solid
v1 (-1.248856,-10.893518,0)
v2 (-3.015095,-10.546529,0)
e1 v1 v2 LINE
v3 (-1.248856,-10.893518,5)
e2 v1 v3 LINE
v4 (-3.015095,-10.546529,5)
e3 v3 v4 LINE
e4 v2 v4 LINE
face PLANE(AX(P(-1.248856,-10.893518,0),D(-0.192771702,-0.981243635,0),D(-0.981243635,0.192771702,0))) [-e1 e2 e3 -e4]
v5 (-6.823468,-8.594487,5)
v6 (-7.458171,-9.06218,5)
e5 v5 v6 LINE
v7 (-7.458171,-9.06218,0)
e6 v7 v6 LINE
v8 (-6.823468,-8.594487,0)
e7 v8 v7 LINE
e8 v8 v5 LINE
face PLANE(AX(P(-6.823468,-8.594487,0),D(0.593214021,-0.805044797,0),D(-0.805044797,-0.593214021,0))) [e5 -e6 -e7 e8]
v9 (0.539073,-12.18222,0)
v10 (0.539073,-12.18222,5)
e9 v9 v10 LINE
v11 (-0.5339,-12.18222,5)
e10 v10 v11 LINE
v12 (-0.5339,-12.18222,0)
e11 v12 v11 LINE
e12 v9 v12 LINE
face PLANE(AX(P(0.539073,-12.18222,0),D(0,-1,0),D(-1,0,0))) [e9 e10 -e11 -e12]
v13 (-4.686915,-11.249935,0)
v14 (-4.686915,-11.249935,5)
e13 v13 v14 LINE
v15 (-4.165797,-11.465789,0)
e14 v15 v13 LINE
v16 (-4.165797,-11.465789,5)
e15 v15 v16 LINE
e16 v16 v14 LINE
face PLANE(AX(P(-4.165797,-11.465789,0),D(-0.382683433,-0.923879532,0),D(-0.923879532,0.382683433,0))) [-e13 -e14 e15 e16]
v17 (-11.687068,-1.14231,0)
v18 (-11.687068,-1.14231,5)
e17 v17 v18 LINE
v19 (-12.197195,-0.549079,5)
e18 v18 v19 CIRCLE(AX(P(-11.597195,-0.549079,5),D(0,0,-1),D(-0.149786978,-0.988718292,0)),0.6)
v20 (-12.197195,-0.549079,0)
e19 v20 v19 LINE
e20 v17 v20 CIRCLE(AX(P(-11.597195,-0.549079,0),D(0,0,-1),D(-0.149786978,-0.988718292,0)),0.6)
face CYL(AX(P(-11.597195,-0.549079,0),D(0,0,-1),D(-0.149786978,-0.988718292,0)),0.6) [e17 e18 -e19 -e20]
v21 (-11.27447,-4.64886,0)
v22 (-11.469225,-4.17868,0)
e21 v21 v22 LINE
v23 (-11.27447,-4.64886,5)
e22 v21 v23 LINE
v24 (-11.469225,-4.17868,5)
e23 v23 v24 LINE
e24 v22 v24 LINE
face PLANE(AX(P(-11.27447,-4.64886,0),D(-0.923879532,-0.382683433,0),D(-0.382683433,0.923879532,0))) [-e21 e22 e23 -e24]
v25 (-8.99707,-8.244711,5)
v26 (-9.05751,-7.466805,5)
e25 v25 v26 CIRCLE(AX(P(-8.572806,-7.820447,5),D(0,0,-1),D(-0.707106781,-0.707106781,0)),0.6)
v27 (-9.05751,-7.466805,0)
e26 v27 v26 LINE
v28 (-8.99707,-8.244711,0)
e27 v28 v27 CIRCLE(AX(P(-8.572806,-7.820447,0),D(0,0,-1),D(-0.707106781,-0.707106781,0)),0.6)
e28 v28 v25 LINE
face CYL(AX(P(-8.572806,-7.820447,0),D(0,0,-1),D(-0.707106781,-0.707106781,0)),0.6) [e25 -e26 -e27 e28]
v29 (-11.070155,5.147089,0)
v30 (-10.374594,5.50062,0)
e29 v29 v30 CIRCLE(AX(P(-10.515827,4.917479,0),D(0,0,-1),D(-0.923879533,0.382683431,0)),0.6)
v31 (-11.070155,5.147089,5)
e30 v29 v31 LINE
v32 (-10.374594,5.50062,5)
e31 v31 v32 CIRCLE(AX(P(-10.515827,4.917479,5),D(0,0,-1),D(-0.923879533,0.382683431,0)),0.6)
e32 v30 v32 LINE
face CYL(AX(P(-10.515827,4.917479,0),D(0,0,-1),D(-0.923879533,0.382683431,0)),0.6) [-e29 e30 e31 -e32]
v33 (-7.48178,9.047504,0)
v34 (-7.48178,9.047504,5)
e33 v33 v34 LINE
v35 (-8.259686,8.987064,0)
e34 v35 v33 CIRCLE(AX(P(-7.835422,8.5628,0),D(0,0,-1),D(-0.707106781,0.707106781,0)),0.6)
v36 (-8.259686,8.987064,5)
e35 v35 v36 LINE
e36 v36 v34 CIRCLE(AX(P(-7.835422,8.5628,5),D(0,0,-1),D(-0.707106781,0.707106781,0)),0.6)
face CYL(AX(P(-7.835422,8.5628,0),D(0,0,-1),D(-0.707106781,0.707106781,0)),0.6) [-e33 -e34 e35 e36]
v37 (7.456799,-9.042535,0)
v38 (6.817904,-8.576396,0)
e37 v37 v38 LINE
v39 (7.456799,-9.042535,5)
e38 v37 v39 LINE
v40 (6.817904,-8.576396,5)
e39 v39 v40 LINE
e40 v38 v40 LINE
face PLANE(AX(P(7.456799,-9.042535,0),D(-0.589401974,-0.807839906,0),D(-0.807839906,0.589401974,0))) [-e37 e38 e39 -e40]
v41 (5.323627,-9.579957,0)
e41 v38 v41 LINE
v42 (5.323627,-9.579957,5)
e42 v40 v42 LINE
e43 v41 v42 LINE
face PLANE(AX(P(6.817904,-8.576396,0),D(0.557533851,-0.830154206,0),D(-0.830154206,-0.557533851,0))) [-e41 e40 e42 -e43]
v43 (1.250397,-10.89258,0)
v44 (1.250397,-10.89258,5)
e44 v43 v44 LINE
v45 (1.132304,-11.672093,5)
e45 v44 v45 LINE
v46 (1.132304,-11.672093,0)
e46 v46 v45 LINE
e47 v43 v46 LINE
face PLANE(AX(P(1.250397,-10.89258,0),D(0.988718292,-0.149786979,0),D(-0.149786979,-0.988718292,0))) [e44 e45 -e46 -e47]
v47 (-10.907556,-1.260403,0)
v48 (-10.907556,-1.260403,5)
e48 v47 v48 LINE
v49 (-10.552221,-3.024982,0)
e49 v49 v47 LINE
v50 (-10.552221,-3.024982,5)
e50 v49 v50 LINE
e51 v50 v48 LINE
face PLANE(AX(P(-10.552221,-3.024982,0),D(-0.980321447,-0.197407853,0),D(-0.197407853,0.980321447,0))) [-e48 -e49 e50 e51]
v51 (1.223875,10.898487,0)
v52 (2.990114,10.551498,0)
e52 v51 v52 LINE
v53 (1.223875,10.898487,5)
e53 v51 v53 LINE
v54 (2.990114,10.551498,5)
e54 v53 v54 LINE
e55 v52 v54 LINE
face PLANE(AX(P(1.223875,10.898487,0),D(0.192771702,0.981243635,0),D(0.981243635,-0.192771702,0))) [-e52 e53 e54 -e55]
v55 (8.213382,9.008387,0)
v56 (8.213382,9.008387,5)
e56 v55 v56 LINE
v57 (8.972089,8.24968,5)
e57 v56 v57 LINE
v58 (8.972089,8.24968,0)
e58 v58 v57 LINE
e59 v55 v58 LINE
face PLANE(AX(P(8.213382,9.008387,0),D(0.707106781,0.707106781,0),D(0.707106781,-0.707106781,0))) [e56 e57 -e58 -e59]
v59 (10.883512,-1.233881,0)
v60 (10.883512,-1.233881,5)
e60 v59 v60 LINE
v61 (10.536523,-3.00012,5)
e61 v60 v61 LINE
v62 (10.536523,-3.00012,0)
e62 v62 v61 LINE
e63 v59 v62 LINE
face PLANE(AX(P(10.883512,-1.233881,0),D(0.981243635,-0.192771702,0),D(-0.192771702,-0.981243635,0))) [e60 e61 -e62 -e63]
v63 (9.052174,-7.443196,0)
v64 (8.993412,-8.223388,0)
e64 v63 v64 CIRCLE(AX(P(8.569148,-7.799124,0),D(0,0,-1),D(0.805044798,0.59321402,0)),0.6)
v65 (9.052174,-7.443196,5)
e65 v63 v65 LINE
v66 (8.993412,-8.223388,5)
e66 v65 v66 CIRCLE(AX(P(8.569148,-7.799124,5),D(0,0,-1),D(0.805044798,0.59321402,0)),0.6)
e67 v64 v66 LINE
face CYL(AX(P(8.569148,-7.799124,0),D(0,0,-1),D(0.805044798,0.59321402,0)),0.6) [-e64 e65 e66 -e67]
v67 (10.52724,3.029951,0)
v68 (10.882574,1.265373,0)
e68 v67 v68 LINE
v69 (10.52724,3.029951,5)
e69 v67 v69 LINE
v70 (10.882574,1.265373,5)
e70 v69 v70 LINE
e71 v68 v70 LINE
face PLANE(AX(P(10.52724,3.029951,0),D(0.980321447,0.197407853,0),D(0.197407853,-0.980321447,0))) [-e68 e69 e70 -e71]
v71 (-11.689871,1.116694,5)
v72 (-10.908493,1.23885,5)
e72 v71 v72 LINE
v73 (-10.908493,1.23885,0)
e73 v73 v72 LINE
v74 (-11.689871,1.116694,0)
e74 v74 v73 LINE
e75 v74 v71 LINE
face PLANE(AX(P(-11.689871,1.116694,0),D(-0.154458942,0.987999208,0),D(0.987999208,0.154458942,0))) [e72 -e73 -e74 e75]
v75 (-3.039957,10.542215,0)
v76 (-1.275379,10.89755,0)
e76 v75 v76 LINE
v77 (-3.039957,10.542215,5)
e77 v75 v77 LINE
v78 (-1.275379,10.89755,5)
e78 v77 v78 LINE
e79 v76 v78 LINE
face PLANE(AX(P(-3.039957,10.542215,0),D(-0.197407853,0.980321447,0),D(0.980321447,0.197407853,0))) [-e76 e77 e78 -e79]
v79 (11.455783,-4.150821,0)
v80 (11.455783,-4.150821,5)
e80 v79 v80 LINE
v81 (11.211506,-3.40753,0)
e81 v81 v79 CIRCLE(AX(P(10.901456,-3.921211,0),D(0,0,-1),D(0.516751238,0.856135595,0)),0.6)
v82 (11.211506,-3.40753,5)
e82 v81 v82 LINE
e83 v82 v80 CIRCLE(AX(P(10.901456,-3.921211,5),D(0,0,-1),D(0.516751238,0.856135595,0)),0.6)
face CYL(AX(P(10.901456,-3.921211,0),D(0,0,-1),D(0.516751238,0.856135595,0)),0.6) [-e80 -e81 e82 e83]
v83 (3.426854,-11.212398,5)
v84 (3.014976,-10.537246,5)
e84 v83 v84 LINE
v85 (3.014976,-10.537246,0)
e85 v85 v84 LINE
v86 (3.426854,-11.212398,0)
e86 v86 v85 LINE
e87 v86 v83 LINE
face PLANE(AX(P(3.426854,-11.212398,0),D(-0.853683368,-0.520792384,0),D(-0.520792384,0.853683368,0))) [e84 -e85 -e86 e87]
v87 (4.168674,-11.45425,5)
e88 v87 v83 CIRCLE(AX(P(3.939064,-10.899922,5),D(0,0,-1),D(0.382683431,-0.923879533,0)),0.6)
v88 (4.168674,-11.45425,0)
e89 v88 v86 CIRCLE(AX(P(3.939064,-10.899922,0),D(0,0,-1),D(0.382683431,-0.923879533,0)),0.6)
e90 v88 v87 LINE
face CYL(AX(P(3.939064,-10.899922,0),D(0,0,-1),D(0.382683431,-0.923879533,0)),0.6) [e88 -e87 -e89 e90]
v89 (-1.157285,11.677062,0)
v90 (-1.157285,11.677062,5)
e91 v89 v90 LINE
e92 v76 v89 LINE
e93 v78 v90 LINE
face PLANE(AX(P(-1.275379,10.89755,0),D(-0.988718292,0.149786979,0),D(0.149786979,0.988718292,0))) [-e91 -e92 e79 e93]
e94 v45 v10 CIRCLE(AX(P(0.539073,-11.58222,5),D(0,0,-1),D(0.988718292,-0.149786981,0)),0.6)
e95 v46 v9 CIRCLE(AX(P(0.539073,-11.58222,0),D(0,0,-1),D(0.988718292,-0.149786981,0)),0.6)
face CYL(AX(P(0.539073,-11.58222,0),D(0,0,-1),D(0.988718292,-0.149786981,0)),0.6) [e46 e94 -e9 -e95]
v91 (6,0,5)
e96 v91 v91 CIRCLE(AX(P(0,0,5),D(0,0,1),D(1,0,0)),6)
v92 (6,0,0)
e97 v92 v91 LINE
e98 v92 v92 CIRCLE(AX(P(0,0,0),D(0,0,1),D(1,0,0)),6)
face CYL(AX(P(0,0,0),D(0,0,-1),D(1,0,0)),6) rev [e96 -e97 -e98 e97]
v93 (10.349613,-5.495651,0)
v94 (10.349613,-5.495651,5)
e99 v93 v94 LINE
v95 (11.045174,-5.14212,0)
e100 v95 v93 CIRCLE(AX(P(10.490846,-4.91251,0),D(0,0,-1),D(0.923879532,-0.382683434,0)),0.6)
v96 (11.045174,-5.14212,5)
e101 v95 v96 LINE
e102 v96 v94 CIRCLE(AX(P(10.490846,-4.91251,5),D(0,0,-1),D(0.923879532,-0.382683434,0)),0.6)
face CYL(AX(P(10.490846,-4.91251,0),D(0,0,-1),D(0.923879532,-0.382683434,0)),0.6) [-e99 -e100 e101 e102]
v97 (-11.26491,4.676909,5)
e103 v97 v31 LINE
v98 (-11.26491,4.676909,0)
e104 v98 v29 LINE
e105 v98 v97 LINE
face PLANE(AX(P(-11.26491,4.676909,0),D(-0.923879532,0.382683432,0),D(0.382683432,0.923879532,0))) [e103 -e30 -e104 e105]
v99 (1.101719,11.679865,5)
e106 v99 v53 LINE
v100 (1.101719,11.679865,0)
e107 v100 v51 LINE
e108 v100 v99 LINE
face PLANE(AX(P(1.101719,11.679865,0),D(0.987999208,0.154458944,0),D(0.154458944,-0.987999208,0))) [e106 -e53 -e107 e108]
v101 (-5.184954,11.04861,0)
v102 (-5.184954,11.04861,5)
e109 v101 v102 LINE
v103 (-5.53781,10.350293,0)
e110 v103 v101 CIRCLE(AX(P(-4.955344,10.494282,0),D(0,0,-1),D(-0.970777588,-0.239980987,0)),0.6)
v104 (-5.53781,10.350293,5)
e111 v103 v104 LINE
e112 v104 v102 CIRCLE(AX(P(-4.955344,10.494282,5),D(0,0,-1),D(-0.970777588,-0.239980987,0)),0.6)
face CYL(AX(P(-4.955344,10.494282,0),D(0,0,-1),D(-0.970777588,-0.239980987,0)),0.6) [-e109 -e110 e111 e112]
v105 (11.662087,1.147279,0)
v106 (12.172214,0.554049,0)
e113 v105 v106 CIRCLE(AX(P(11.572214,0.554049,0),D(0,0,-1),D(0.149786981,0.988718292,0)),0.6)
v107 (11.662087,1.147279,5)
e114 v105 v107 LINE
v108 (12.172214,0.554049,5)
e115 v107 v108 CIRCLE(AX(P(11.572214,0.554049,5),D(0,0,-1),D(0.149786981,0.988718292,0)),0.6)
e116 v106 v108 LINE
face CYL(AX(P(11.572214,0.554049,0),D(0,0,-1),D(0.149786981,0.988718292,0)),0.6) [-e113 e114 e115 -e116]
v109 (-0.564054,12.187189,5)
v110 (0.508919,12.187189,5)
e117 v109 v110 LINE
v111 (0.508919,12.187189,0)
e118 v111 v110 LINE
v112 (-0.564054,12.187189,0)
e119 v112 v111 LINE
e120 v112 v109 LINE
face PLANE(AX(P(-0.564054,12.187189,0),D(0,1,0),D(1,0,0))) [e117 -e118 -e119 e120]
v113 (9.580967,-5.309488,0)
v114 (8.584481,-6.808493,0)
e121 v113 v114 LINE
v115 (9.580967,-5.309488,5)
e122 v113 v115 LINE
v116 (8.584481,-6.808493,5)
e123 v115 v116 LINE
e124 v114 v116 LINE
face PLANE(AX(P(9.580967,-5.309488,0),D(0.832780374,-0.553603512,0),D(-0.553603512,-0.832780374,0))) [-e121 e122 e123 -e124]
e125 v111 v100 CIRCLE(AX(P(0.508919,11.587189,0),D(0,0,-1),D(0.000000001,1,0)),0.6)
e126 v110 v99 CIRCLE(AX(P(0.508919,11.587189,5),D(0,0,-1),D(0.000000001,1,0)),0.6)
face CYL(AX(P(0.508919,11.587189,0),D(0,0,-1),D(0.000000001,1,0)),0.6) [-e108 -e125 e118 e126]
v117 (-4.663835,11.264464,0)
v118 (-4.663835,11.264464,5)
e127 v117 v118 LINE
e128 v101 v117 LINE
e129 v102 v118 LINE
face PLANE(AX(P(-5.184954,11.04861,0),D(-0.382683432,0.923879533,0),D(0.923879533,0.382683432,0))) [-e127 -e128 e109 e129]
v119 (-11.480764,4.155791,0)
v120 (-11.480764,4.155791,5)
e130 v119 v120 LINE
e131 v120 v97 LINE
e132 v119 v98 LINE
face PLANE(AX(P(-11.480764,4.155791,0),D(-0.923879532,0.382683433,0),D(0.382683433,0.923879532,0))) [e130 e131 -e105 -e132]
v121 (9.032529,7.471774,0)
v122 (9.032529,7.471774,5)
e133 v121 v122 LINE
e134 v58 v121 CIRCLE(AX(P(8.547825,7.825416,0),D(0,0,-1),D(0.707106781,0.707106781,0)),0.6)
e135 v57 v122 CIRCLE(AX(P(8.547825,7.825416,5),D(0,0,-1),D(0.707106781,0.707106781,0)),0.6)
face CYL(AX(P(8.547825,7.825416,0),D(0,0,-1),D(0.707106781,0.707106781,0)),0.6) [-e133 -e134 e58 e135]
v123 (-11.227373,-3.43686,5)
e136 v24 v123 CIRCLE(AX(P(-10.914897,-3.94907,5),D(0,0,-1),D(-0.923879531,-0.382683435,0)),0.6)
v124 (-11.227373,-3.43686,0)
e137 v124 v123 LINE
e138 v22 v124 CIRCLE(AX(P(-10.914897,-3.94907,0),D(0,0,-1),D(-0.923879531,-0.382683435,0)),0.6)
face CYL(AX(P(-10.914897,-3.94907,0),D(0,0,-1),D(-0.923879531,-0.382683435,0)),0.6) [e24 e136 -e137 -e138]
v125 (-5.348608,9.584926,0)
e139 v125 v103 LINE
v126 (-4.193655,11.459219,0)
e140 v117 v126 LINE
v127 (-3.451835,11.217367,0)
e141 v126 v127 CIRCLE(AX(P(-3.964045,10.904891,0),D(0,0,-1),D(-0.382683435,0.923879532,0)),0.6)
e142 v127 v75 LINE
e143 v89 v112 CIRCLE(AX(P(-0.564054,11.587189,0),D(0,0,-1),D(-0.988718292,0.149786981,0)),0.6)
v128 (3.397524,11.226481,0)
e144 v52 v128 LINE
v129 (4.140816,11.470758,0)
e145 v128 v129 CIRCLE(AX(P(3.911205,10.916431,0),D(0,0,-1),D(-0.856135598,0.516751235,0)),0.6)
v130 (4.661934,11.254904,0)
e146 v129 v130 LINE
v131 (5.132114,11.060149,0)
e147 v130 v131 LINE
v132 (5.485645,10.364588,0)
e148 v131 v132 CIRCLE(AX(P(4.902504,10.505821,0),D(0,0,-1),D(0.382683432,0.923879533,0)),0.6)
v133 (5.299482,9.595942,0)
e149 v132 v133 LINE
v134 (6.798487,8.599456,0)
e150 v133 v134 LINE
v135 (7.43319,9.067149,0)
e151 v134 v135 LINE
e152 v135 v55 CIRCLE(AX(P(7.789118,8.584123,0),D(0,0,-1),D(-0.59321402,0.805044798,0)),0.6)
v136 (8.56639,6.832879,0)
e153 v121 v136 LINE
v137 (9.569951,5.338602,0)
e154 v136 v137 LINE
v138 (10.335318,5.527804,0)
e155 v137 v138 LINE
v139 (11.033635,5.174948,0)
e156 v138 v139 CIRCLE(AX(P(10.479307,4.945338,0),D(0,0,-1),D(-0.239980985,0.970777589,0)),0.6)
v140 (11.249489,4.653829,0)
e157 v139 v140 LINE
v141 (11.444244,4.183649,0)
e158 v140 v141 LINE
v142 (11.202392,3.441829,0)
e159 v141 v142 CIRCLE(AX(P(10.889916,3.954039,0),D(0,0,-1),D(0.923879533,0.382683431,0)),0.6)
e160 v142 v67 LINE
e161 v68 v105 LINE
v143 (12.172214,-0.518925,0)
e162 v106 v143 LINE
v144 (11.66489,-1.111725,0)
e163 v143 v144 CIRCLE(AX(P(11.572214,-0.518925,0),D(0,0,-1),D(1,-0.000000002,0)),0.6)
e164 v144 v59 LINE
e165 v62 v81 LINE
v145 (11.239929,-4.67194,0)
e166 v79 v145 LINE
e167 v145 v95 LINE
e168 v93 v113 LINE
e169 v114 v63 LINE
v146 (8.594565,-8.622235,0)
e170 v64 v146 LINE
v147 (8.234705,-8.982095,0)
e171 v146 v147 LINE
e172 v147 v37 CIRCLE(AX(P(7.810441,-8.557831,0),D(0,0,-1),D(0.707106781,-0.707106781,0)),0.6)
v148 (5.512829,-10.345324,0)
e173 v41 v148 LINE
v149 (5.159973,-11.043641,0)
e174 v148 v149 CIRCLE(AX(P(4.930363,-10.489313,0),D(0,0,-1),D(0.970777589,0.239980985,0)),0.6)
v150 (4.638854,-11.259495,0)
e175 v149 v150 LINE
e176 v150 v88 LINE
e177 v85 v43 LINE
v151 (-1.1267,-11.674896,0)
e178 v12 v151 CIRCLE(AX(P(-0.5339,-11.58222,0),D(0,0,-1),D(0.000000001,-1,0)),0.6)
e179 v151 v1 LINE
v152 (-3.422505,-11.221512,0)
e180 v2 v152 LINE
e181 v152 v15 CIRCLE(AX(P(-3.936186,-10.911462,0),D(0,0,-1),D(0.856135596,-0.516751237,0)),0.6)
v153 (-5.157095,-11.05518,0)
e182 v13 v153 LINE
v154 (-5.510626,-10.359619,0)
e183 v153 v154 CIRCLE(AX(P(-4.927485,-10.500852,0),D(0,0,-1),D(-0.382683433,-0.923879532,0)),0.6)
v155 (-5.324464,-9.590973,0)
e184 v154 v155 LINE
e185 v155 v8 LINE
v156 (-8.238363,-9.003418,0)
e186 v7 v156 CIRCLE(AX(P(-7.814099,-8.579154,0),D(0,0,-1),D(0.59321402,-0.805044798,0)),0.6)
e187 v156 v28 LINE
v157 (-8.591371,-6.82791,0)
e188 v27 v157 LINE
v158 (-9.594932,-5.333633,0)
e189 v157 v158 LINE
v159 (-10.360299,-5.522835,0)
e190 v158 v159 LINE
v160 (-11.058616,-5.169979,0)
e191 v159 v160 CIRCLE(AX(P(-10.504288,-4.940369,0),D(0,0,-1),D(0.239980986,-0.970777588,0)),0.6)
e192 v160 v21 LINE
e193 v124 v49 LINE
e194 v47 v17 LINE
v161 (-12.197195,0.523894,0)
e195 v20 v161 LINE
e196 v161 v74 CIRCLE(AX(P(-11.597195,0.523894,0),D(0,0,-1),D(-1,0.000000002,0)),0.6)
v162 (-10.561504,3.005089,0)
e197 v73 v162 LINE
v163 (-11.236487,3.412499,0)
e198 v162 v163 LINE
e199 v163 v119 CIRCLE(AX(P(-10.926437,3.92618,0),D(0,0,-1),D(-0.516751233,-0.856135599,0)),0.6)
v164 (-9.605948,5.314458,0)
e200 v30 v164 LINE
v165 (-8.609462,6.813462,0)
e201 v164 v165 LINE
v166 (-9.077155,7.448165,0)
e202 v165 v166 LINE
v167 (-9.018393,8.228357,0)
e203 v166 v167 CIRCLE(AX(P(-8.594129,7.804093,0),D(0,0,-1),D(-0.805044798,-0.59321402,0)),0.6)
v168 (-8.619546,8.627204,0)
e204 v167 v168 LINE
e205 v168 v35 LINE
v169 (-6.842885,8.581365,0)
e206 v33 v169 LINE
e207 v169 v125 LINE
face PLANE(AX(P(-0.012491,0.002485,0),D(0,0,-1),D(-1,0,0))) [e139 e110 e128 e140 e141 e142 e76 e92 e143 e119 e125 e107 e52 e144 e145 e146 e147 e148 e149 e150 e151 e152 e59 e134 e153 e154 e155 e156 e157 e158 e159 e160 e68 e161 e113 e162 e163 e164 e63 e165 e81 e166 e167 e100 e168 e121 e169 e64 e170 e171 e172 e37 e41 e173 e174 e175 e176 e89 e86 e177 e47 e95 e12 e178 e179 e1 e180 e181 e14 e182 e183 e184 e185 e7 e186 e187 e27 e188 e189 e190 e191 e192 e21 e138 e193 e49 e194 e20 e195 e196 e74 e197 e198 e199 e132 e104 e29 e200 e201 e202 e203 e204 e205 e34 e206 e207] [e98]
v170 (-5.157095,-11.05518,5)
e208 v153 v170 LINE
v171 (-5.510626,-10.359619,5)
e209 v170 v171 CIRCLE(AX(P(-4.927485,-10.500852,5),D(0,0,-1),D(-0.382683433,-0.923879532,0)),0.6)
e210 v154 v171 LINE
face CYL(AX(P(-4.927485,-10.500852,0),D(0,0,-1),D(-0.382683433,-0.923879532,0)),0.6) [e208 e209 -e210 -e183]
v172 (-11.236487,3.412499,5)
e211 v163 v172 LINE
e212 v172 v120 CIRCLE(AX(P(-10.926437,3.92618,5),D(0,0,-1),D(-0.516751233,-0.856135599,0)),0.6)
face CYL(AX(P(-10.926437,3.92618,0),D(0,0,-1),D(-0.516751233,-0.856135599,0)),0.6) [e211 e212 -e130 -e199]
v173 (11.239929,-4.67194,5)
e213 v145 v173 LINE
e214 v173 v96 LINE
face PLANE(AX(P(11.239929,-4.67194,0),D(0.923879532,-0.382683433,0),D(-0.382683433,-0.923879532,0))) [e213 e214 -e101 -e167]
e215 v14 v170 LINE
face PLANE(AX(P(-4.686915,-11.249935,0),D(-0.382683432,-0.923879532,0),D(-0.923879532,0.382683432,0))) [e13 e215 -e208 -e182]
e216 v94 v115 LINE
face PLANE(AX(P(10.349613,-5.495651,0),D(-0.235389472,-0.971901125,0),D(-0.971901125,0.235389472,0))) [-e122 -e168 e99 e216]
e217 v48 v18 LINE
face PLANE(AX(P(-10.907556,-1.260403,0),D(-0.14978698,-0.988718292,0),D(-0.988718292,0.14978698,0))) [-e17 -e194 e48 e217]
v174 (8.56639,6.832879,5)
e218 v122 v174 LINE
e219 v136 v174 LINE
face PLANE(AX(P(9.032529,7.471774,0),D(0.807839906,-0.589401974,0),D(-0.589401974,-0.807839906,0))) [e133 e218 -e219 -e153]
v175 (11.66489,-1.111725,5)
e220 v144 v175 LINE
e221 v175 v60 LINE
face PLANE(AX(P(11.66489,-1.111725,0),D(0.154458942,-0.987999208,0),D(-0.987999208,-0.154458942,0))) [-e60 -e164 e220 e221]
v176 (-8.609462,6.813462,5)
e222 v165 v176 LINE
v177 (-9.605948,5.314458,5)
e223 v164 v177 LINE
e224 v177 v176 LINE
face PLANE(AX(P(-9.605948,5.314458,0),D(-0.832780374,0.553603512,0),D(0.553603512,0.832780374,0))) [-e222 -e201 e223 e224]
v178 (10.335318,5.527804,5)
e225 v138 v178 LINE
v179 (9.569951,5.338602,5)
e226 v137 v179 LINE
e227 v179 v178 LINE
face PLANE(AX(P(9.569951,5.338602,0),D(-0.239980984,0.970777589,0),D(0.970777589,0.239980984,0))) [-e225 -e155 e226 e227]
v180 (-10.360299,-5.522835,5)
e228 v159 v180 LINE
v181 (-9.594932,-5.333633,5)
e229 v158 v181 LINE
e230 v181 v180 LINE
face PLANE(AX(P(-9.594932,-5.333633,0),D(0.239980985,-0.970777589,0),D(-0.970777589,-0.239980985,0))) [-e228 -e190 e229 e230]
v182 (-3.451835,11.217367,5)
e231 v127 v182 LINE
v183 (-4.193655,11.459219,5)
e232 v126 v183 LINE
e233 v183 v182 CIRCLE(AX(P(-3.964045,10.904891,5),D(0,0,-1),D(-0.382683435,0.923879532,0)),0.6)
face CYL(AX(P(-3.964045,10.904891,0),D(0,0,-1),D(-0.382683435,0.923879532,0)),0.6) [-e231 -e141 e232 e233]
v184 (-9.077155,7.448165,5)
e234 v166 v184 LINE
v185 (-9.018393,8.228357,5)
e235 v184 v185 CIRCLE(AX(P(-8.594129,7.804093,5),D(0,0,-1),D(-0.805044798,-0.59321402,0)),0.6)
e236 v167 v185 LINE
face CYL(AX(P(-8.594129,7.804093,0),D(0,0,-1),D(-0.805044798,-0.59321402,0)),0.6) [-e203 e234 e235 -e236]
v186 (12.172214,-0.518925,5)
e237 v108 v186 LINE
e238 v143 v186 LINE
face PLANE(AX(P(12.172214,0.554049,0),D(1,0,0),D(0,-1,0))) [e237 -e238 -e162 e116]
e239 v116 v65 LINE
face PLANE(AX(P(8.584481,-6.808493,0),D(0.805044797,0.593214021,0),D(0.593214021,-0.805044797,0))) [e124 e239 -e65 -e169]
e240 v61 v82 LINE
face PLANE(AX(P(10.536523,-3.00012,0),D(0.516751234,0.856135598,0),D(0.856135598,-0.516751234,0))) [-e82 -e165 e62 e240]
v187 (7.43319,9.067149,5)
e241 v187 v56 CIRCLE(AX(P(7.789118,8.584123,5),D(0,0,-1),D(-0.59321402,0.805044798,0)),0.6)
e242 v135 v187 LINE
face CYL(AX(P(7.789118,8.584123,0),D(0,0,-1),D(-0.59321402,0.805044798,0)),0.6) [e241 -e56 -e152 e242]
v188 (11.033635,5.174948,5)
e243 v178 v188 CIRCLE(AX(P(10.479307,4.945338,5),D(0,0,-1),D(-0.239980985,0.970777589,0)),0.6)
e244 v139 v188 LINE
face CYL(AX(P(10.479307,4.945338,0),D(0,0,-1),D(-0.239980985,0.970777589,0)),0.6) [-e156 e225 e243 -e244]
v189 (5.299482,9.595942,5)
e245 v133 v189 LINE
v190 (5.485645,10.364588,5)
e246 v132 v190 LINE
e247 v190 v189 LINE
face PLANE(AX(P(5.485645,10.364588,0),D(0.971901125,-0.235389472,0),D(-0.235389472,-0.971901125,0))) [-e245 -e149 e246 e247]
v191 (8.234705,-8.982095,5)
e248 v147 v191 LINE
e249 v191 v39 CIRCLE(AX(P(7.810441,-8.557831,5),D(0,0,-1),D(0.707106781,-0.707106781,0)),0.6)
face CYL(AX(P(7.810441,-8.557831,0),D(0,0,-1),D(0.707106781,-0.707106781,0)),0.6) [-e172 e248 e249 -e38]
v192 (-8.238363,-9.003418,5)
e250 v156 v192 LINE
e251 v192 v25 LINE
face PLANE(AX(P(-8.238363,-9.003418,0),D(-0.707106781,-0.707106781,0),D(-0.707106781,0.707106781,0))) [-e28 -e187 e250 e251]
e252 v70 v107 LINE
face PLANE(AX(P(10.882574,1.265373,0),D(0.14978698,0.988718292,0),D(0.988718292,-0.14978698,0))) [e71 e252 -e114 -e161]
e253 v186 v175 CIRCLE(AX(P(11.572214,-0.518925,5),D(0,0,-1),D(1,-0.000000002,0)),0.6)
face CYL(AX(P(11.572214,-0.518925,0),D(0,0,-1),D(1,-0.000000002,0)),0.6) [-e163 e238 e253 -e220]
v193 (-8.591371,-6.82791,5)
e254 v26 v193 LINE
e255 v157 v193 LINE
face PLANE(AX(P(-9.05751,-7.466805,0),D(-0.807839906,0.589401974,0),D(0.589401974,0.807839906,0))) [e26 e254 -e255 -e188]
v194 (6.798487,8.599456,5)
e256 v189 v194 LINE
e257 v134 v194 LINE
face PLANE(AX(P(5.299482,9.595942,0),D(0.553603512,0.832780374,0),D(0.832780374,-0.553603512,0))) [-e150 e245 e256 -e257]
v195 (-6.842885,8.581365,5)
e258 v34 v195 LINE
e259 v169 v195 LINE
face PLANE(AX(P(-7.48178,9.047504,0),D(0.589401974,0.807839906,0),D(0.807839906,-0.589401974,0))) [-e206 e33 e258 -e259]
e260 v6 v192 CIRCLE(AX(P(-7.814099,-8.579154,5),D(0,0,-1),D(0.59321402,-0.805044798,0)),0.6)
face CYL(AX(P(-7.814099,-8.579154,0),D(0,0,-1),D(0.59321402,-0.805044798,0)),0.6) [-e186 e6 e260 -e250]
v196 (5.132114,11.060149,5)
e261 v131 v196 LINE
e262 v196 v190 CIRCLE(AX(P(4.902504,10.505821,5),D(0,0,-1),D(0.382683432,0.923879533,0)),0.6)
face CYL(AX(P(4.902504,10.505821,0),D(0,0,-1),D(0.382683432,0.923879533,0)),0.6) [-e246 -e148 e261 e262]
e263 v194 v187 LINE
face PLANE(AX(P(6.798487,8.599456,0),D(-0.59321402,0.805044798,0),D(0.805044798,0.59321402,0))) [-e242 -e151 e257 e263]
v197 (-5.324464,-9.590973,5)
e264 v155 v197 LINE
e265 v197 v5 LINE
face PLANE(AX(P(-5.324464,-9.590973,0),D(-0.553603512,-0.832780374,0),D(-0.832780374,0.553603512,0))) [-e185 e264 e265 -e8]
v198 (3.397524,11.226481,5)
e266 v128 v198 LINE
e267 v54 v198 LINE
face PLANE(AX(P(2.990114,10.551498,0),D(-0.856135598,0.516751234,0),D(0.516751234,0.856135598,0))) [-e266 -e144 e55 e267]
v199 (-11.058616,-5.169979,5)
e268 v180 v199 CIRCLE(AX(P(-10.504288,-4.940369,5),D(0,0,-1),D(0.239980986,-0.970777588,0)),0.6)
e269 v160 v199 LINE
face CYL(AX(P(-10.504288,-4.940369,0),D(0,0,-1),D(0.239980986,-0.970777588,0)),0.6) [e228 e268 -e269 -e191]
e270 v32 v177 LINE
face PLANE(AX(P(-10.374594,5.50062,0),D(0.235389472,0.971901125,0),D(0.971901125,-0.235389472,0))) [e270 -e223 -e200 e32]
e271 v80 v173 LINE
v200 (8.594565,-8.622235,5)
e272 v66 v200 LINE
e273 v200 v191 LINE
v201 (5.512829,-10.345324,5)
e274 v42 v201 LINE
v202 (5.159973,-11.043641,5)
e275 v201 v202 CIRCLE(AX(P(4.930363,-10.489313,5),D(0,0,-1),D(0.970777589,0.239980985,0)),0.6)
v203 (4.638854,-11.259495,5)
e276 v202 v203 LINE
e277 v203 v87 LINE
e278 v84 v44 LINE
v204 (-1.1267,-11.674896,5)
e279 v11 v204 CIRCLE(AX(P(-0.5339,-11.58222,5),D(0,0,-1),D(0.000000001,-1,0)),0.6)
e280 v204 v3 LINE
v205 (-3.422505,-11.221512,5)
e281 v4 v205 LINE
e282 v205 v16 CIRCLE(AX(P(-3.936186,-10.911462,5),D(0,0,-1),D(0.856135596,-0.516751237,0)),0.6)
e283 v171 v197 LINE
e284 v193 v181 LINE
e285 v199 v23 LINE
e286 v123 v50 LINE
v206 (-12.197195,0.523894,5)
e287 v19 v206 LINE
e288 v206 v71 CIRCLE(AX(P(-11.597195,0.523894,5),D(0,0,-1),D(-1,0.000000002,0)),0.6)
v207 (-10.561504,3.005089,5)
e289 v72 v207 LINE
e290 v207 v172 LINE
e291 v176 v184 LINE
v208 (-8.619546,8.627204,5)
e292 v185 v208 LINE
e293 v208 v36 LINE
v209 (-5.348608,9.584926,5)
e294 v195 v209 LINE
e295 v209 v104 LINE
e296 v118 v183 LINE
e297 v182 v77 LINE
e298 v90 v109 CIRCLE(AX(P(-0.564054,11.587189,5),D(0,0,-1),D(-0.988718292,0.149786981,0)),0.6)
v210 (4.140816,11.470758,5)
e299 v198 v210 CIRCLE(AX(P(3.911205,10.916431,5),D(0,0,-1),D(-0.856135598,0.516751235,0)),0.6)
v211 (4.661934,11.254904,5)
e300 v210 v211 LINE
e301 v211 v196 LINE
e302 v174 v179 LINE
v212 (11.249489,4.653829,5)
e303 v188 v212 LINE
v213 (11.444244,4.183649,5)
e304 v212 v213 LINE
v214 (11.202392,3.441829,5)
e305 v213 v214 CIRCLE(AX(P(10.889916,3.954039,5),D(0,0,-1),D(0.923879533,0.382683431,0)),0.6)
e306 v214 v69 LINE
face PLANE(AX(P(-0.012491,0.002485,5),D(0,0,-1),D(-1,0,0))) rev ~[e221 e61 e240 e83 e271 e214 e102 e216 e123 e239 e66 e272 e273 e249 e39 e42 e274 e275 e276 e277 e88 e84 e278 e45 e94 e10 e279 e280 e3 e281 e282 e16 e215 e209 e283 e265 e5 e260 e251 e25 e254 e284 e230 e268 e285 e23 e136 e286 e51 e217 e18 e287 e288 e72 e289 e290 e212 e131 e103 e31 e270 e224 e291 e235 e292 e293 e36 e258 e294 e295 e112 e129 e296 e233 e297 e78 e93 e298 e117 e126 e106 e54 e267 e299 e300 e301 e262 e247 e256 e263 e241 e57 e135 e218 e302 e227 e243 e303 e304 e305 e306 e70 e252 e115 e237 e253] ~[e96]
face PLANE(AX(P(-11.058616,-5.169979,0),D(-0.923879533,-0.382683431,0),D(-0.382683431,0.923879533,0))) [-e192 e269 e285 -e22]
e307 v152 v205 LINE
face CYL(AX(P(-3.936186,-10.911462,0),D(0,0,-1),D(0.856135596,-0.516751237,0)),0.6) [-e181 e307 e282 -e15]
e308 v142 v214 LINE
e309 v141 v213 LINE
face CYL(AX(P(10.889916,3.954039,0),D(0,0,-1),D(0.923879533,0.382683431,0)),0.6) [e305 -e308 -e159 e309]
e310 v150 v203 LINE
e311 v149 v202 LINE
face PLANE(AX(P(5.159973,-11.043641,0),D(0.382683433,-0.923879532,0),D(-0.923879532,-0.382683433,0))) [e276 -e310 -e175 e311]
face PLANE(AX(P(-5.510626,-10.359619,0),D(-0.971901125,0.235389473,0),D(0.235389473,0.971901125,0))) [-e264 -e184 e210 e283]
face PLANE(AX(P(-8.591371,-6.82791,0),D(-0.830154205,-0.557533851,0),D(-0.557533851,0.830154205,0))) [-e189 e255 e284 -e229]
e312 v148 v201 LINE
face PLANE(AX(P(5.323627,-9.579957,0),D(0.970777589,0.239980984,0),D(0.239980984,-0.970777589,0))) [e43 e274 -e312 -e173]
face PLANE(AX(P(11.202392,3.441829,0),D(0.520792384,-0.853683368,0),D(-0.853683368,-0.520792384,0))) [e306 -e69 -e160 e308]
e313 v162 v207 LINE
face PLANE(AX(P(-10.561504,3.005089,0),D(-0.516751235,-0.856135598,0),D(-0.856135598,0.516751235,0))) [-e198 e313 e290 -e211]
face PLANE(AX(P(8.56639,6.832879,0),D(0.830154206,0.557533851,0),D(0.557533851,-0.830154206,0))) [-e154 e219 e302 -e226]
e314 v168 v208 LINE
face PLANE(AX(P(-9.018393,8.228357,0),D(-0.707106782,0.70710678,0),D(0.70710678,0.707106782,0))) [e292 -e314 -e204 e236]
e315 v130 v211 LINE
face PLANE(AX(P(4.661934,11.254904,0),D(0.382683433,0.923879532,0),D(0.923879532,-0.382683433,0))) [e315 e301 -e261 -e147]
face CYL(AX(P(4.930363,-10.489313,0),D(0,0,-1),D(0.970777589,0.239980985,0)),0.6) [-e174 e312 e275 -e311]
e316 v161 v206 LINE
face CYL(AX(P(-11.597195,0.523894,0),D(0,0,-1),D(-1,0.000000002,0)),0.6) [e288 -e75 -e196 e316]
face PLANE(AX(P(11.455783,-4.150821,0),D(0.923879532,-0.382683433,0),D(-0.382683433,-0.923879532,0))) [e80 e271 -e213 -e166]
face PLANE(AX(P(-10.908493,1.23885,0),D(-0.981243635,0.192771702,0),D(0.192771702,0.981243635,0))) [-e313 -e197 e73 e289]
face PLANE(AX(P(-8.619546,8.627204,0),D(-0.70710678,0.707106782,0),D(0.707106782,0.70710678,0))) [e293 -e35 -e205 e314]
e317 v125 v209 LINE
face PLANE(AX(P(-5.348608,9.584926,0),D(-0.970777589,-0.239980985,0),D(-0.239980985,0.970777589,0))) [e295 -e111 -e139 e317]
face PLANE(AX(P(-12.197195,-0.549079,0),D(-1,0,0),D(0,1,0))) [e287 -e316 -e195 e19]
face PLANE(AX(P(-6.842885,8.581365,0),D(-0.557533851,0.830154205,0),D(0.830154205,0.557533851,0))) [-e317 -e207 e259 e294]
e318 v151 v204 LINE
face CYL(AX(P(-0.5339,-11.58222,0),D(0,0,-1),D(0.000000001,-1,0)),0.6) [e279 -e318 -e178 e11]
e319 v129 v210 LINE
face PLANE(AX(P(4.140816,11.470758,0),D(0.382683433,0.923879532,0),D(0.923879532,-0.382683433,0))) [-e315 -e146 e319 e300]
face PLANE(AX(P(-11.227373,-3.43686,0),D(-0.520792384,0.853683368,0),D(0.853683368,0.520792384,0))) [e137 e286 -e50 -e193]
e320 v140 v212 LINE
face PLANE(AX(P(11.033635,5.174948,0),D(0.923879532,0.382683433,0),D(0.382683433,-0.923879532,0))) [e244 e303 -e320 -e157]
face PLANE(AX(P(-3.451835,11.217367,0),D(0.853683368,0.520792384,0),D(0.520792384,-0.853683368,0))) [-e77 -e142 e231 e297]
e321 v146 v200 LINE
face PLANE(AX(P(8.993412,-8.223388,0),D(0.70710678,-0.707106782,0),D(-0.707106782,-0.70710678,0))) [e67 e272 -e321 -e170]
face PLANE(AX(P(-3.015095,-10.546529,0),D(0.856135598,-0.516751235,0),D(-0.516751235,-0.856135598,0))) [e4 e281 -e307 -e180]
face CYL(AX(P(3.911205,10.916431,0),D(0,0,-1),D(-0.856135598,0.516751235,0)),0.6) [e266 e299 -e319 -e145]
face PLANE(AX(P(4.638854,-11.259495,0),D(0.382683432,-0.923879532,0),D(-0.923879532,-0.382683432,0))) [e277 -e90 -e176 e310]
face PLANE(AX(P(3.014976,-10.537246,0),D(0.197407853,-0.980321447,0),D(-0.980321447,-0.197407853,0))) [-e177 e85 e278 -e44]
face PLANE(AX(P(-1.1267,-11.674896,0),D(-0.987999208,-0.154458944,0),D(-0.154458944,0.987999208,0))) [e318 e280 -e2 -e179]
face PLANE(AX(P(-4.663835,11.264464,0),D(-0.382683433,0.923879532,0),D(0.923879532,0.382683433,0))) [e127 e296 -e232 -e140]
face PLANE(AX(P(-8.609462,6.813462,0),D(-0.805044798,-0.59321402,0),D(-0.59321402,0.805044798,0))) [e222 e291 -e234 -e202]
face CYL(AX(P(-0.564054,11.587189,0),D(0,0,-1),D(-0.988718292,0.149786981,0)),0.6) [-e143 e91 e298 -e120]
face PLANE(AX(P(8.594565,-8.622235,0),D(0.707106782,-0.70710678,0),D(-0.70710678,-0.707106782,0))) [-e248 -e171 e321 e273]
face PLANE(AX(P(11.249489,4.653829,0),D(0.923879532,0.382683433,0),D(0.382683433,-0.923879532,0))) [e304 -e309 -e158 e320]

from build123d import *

# Parameters (mm, degrees)
ESQUISSE5_R        = 6
BOSS_EXTRU_1_DEPTH = 5


with BuildPart() as part:
    # Esquisse5 → Boss.-Extru.1 (new body)
    with BuildSketch(Plane.XY):
        with BuildLine():
            Line((0, 12.187189413), (0.508919212, 12.187189413))
            ThreePointArc((0.508919212, 12.187189413), (0.899044051, 12.043043128), (1.101718736, 11.679864778))
            Line((1.101718736, 11.679864778), (1.223875428, 10.898487461))
            Line((1.223875428, 10.898487461), (2.990113971, 10.551498398))
            Line((2.990113971, 10.551498398), (3.397524082, 11.2264814))
            ThreePointArc((3.397524082, 11.2264814), (3.723877023, 11.486437733), (4.140815501, 11.470758379))
            Line((4.140815501, 11.470758379), (4.661933908, 11.254904067))
            Line((4.661933908, 11.254904067), (5.132113951, 11.060149116))
            ThreePointArc((5.132113951, 11.060149116), (5.43737991, 10.777681002), (5.485644567, 10.364587714))
            Line((5.485644567, 10.364587714), (5.29948248, 9.595941861))
            Line((5.29948248, 9.595941861), (6.798487154, 8.59945554))
            Line((6.798487154, 8.59945554), (7.433189829, 9.06714942))
            ThreePointArc((7.433189829, 9.06714942), (7.834181612, 9.182427892), (8.21338231, 9.00838661))
            Line((8.21338231, 9.00838661), (8.612229071, 8.609539849))
            Line((8.612229071, 8.609539849), (8.972089297, 8.249679623))
            ThreePointArc((8.972089297, 8.249679623), (9.146022401, 7.871892888), (9.032529172, 7.47177437))
            Line((9.032529172, 7.47177437), (8.566389797, 6.832879345))
            Line((8.566389797, 6.832879345), (9.569950728, 5.338601775))
            Line((9.569950728, 5.338601775), (10.335318239, 5.52780438))
            ThreePointArc((10.335318239, 5.52780438), (10.749901501, 5.480854889), (11.033634549, 5.174947886))
            Line((11.033634549, 5.174947886), (11.249488861, 4.653829479))
            Line((11.249488861, 4.653829479), (11.444243812, 4.183649436))
            ThreePointArc((11.444243812, 4.183649436), (11.460364322, 3.768058687), (11.202391523, 3.441829356))
            Line((11.202391523, 3.441829356), (10.527240354, 3.029951135))
            Line((10.527240354, 3.029951135), (10.882574489, 1.26537253))
            Line((10.882574489, 1.26537253), (11.662086569, 1.147279478))
            ThreePointArc((11.662086569, 1.147279478), (12.027144767, 0.945249658), (12.172214381, 0.554048503))
            Line((12.172214381, 0.554048503), (12.172214381, -0.010005996))
            Line((12.172214381, -0.010005996), (12.172214381, -0.518925208))
            ThreePointArc((12.172214381, -0.518925208), (12.028068096, -0.909050047), (11.664889747, -1.111724733))
            Line((11.664889747, -1.111724733), (10.88351243, -1.233881424))
            Line((10.88351243, -1.233881424), (10.536523367, -3.000119967))
            Line((10.536523367, -3.000119967), (11.211506369, -3.407530078))
            ThreePointArc((11.211506369, -3.407530078), (11.471462701, -3.733883019), (11.455783348, -4.150821497))
            Line((11.455783348, -4.150821497), (11.239929036, -4.671939904))
            Line((11.239929036, -4.671939904), (11.045174085, -5.142119947))
            ThreePointArc((11.045174085, -5.142119947), (10.76270597, -5.447385906), (10.349612682, -5.495650563))
            Line((10.349612682, -5.495650563), (9.580966829, -5.309488476))
            Line((9.580966829, -5.309488476), (8.584480508, -6.80849315))
            Line((8.584480508, -6.80849315), (9.052174389, -7.443195825))
            ThreePointArc((9.052174389, -7.443195825), (9.167452861, -7.844187609), (8.993411579, -8.223388306))
            Line((8.993411579, -8.223388306), (8.594564817, -8.622235067))
            Line((8.594564817, -8.622235067), (8.234704592, -8.982095293))
            ThreePointArc((8.234704592, -8.982095293), (7.856917857, -9.156028397), (7.456799339, -9.042535168))
            Line((7.456799339, -9.042535168), (6.817904314, -8.576395793))
            Line((6.817904314, -8.576395793), (5.323626744, -9.579956724))
            Line((5.323626744, -9.579956724), (5.512829349, -10.345324235))
            ThreePointArc((5.512829349, -10.345324235), (5.465879858, -10.759907497), (5.159972855, -11.043640545))
            Line((5.159972855, -11.043640545), (4.638854448, -11.259494857))
            Line((4.638854448, -11.259494857), (4.168674404, -11.454249808))
            ThreePointArc((4.168674404, -11.454249808), (3.753083655, -11.470370318), (3.426854324, -11.212397519))
            Line((3.426854324, -11.212397519), (3.014976103, -10.53724635))
            Line((3.014976103, -10.53724635), (1.250397498, -10.892580485))
            Line((1.250397498, -10.892580485), (1.132304447, -11.672092565))
            ThreePointArc((1.132304447, -11.672092565), (0.930274627, -12.037150763), (0.539073472, -12.182220377))
            Line((0.539073472, -12.182220377), (-0.024981027, -12.182220377))
            Line((-0.024981027, -12.182220377), (-0.533900239, -12.182220377))
            ThreePointArc((-0.533900239, -12.182220377), (-0.924025078, -12.038074093), (-1.126699764, -11.674895743))
            Line((-1.126699764, -11.674895743), (-1.248856456, -10.893518426))
            Line((-1.248856456, -10.893518426), (-3.015094998, -10.546529363))
            Line((-3.015094998, -10.546529363), (-3.42250511, -11.221512365))
            ThreePointArc((-3.42250511, -11.221512365), (-3.74885805, -11.481468697), (-4.165796528, -11.465789344))
            Line((-4.165796528, -11.465789344), (-4.686914935, -11.249935032))
            Line((-4.686914935, -11.249935032), (-5.157094979, -11.055180081))
            ThreePointArc((-5.157094979, -11.055180081), (-5.462360938, -10.772711966), (-5.510625594, -10.359618678))
            Line((-5.510625594, -10.359618678), (-5.324463507, -9.590972826))
            Line((-5.324463507, -9.590972826), (-6.823468181, -8.594486504))
            Line((-6.823468181, -8.594486504), (-7.458170856, -9.062180385))
            ThreePointArc((-7.458170856, -9.062180385), (-7.85916264, -9.177458857), (-8.238363337, -9.003417575))
            Line((-8.238363337, -9.003417575), (-8.637210099, -8.604570813))
            Line((-8.637210099, -8.604570813), (-8.997070324, -8.244710588))
            ThreePointArc((-8.997070324, -8.244710588), (-9.171003428, -7.866923853), (-9.057510199, -7.466805335))
            Line((-9.057510199, -7.466805335), (-8.591370824, -6.82791031))
            Line((-8.591370824, -6.82791031), (-9.594931756, -5.33363274))
            Line((-9.594931756, -5.33363274), (-10.360299266, -5.522835345))
            ThreePointArc((-10.360299266, -5.522835345), (-10.774882529, -5.475885854), (-11.058615577, -5.169978851))
            Line((-11.058615577, -5.169978851), (-11.274469888, -4.648860444))
            Line((-11.274469888, -4.648860444), (-11.469224839, -4.178680401))
            ThreePointArc((-11.469224839, -4.178680401), (-11.48534535, -3.763089651), (-11.22737255, -3.43686032))
            Line((-11.22737255, -3.43686032), (-10.552221381, -3.024982099))
            Line((-10.552221381, -3.024982099), (-10.907555516, -1.260403495))
            Line((-10.907555516, -1.260403495), (-11.687067596, -1.142310443))
            ThreePointArc((-11.687067596, -1.142310443), (-12.052125795, -0.940280623), (-12.197195409, -0.549079468))
            Line((-12.197195409, -0.549079468), (-12.197195409, 0.014975031))
            Line((-12.197195409, 0.014975031), (-12.197195409, 0.523894243))
            ThreePointArc((-12.197195409, 0.523894243), (-12.053049124, 0.914019082), (-11.689870774, 1.116693768))
            Line((-11.689870774, 1.116693768), (-10.908493457, 1.238850459))
            Line((-10.908493457, 1.238850459), (-10.561504394, 3.005089002))
            Line((-10.561504394, 3.005089002), (-11.236487396, 3.412499114))
            ThreePointArc((-11.236487396, 3.412499114), (-11.496443729, 3.738852054), (-11.480764375, 4.155790532))
            Line((-11.480764375, 4.155790532), (-11.264910063, 4.676908939))
            Line((-11.264910063, 4.676908939), (-11.070155112, 5.147088983))
            ThreePointArc((-11.070155112, 5.147088983), (-10.787686998, 5.452354942), (-10.37459371, 5.500619598))
            Line((-10.37459371, 5.500619598), (-9.605947857, 5.314457511))
            Line((-9.605947857, 5.314457511), (-8.609461536, 6.813462185))
            Line((-8.609461536, 6.813462185), (-9.077155416, 7.44816486))
            ThreePointArc((-9.077155416, 7.44816486), (-9.192433888, 7.849156644), (-9.018392606, 8.228357341))
            Line((-9.018392606, 8.228357341), (-8.619545845, 8.627204103))
            Line((-8.619545845, 8.627204103), (-8.259685619, 8.987064328))
            ThreePointArc((-8.259685619, 8.987064328), (-7.881898884, 9.160997432), (-7.481780366, 9.047504203))
            Line((-7.481780366, 9.047504203), (-6.842885341, 8.581364828))
            Line((-6.842885341, 8.581364828), (-5.348607771, 9.58492576))
            Line((-5.348607771, 9.58492576), (-5.537810376, 10.35029327))
            ThreePointArc((-5.537810376, 10.35029327), (-5.490860885, 10.764876533), (-5.184953883, 11.04860958))
            Line((-5.184953883, 11.04860958), (-4.663835475, 11.264463892))
            Line((-4.663835475, 11.264463892), (-4.193655432, 11.459218843))
            ThreePointArc((-4.193655432, 11.459218843), (-3.778064683, 11.475339354), (-3.451835352, 11.217366554))
            Line((-3.451835352, 11.217366554), (-3.039957131, 10.542215385))
            Line((-3.039957131, 10.542215385), (-1.275378526, 10.89754952))
            Line((-1.275378526, 10.89754952), (-1.157285475, 11.6770616))
            ThreePointArc((-1.157285475, 11.6770616), (-0.955255654, 12.042119799), (-0.564054499, 12.187189413))
            Line((-0.564054499, 12.187189413), (0, 12.187189413))
        make_face()
        Circle(ESQUISSE5_R, mode=Mode.SUBTRACT)
    extrude(amount=BOSS_EXTRU_1_DEPTH)


solid = part.part
